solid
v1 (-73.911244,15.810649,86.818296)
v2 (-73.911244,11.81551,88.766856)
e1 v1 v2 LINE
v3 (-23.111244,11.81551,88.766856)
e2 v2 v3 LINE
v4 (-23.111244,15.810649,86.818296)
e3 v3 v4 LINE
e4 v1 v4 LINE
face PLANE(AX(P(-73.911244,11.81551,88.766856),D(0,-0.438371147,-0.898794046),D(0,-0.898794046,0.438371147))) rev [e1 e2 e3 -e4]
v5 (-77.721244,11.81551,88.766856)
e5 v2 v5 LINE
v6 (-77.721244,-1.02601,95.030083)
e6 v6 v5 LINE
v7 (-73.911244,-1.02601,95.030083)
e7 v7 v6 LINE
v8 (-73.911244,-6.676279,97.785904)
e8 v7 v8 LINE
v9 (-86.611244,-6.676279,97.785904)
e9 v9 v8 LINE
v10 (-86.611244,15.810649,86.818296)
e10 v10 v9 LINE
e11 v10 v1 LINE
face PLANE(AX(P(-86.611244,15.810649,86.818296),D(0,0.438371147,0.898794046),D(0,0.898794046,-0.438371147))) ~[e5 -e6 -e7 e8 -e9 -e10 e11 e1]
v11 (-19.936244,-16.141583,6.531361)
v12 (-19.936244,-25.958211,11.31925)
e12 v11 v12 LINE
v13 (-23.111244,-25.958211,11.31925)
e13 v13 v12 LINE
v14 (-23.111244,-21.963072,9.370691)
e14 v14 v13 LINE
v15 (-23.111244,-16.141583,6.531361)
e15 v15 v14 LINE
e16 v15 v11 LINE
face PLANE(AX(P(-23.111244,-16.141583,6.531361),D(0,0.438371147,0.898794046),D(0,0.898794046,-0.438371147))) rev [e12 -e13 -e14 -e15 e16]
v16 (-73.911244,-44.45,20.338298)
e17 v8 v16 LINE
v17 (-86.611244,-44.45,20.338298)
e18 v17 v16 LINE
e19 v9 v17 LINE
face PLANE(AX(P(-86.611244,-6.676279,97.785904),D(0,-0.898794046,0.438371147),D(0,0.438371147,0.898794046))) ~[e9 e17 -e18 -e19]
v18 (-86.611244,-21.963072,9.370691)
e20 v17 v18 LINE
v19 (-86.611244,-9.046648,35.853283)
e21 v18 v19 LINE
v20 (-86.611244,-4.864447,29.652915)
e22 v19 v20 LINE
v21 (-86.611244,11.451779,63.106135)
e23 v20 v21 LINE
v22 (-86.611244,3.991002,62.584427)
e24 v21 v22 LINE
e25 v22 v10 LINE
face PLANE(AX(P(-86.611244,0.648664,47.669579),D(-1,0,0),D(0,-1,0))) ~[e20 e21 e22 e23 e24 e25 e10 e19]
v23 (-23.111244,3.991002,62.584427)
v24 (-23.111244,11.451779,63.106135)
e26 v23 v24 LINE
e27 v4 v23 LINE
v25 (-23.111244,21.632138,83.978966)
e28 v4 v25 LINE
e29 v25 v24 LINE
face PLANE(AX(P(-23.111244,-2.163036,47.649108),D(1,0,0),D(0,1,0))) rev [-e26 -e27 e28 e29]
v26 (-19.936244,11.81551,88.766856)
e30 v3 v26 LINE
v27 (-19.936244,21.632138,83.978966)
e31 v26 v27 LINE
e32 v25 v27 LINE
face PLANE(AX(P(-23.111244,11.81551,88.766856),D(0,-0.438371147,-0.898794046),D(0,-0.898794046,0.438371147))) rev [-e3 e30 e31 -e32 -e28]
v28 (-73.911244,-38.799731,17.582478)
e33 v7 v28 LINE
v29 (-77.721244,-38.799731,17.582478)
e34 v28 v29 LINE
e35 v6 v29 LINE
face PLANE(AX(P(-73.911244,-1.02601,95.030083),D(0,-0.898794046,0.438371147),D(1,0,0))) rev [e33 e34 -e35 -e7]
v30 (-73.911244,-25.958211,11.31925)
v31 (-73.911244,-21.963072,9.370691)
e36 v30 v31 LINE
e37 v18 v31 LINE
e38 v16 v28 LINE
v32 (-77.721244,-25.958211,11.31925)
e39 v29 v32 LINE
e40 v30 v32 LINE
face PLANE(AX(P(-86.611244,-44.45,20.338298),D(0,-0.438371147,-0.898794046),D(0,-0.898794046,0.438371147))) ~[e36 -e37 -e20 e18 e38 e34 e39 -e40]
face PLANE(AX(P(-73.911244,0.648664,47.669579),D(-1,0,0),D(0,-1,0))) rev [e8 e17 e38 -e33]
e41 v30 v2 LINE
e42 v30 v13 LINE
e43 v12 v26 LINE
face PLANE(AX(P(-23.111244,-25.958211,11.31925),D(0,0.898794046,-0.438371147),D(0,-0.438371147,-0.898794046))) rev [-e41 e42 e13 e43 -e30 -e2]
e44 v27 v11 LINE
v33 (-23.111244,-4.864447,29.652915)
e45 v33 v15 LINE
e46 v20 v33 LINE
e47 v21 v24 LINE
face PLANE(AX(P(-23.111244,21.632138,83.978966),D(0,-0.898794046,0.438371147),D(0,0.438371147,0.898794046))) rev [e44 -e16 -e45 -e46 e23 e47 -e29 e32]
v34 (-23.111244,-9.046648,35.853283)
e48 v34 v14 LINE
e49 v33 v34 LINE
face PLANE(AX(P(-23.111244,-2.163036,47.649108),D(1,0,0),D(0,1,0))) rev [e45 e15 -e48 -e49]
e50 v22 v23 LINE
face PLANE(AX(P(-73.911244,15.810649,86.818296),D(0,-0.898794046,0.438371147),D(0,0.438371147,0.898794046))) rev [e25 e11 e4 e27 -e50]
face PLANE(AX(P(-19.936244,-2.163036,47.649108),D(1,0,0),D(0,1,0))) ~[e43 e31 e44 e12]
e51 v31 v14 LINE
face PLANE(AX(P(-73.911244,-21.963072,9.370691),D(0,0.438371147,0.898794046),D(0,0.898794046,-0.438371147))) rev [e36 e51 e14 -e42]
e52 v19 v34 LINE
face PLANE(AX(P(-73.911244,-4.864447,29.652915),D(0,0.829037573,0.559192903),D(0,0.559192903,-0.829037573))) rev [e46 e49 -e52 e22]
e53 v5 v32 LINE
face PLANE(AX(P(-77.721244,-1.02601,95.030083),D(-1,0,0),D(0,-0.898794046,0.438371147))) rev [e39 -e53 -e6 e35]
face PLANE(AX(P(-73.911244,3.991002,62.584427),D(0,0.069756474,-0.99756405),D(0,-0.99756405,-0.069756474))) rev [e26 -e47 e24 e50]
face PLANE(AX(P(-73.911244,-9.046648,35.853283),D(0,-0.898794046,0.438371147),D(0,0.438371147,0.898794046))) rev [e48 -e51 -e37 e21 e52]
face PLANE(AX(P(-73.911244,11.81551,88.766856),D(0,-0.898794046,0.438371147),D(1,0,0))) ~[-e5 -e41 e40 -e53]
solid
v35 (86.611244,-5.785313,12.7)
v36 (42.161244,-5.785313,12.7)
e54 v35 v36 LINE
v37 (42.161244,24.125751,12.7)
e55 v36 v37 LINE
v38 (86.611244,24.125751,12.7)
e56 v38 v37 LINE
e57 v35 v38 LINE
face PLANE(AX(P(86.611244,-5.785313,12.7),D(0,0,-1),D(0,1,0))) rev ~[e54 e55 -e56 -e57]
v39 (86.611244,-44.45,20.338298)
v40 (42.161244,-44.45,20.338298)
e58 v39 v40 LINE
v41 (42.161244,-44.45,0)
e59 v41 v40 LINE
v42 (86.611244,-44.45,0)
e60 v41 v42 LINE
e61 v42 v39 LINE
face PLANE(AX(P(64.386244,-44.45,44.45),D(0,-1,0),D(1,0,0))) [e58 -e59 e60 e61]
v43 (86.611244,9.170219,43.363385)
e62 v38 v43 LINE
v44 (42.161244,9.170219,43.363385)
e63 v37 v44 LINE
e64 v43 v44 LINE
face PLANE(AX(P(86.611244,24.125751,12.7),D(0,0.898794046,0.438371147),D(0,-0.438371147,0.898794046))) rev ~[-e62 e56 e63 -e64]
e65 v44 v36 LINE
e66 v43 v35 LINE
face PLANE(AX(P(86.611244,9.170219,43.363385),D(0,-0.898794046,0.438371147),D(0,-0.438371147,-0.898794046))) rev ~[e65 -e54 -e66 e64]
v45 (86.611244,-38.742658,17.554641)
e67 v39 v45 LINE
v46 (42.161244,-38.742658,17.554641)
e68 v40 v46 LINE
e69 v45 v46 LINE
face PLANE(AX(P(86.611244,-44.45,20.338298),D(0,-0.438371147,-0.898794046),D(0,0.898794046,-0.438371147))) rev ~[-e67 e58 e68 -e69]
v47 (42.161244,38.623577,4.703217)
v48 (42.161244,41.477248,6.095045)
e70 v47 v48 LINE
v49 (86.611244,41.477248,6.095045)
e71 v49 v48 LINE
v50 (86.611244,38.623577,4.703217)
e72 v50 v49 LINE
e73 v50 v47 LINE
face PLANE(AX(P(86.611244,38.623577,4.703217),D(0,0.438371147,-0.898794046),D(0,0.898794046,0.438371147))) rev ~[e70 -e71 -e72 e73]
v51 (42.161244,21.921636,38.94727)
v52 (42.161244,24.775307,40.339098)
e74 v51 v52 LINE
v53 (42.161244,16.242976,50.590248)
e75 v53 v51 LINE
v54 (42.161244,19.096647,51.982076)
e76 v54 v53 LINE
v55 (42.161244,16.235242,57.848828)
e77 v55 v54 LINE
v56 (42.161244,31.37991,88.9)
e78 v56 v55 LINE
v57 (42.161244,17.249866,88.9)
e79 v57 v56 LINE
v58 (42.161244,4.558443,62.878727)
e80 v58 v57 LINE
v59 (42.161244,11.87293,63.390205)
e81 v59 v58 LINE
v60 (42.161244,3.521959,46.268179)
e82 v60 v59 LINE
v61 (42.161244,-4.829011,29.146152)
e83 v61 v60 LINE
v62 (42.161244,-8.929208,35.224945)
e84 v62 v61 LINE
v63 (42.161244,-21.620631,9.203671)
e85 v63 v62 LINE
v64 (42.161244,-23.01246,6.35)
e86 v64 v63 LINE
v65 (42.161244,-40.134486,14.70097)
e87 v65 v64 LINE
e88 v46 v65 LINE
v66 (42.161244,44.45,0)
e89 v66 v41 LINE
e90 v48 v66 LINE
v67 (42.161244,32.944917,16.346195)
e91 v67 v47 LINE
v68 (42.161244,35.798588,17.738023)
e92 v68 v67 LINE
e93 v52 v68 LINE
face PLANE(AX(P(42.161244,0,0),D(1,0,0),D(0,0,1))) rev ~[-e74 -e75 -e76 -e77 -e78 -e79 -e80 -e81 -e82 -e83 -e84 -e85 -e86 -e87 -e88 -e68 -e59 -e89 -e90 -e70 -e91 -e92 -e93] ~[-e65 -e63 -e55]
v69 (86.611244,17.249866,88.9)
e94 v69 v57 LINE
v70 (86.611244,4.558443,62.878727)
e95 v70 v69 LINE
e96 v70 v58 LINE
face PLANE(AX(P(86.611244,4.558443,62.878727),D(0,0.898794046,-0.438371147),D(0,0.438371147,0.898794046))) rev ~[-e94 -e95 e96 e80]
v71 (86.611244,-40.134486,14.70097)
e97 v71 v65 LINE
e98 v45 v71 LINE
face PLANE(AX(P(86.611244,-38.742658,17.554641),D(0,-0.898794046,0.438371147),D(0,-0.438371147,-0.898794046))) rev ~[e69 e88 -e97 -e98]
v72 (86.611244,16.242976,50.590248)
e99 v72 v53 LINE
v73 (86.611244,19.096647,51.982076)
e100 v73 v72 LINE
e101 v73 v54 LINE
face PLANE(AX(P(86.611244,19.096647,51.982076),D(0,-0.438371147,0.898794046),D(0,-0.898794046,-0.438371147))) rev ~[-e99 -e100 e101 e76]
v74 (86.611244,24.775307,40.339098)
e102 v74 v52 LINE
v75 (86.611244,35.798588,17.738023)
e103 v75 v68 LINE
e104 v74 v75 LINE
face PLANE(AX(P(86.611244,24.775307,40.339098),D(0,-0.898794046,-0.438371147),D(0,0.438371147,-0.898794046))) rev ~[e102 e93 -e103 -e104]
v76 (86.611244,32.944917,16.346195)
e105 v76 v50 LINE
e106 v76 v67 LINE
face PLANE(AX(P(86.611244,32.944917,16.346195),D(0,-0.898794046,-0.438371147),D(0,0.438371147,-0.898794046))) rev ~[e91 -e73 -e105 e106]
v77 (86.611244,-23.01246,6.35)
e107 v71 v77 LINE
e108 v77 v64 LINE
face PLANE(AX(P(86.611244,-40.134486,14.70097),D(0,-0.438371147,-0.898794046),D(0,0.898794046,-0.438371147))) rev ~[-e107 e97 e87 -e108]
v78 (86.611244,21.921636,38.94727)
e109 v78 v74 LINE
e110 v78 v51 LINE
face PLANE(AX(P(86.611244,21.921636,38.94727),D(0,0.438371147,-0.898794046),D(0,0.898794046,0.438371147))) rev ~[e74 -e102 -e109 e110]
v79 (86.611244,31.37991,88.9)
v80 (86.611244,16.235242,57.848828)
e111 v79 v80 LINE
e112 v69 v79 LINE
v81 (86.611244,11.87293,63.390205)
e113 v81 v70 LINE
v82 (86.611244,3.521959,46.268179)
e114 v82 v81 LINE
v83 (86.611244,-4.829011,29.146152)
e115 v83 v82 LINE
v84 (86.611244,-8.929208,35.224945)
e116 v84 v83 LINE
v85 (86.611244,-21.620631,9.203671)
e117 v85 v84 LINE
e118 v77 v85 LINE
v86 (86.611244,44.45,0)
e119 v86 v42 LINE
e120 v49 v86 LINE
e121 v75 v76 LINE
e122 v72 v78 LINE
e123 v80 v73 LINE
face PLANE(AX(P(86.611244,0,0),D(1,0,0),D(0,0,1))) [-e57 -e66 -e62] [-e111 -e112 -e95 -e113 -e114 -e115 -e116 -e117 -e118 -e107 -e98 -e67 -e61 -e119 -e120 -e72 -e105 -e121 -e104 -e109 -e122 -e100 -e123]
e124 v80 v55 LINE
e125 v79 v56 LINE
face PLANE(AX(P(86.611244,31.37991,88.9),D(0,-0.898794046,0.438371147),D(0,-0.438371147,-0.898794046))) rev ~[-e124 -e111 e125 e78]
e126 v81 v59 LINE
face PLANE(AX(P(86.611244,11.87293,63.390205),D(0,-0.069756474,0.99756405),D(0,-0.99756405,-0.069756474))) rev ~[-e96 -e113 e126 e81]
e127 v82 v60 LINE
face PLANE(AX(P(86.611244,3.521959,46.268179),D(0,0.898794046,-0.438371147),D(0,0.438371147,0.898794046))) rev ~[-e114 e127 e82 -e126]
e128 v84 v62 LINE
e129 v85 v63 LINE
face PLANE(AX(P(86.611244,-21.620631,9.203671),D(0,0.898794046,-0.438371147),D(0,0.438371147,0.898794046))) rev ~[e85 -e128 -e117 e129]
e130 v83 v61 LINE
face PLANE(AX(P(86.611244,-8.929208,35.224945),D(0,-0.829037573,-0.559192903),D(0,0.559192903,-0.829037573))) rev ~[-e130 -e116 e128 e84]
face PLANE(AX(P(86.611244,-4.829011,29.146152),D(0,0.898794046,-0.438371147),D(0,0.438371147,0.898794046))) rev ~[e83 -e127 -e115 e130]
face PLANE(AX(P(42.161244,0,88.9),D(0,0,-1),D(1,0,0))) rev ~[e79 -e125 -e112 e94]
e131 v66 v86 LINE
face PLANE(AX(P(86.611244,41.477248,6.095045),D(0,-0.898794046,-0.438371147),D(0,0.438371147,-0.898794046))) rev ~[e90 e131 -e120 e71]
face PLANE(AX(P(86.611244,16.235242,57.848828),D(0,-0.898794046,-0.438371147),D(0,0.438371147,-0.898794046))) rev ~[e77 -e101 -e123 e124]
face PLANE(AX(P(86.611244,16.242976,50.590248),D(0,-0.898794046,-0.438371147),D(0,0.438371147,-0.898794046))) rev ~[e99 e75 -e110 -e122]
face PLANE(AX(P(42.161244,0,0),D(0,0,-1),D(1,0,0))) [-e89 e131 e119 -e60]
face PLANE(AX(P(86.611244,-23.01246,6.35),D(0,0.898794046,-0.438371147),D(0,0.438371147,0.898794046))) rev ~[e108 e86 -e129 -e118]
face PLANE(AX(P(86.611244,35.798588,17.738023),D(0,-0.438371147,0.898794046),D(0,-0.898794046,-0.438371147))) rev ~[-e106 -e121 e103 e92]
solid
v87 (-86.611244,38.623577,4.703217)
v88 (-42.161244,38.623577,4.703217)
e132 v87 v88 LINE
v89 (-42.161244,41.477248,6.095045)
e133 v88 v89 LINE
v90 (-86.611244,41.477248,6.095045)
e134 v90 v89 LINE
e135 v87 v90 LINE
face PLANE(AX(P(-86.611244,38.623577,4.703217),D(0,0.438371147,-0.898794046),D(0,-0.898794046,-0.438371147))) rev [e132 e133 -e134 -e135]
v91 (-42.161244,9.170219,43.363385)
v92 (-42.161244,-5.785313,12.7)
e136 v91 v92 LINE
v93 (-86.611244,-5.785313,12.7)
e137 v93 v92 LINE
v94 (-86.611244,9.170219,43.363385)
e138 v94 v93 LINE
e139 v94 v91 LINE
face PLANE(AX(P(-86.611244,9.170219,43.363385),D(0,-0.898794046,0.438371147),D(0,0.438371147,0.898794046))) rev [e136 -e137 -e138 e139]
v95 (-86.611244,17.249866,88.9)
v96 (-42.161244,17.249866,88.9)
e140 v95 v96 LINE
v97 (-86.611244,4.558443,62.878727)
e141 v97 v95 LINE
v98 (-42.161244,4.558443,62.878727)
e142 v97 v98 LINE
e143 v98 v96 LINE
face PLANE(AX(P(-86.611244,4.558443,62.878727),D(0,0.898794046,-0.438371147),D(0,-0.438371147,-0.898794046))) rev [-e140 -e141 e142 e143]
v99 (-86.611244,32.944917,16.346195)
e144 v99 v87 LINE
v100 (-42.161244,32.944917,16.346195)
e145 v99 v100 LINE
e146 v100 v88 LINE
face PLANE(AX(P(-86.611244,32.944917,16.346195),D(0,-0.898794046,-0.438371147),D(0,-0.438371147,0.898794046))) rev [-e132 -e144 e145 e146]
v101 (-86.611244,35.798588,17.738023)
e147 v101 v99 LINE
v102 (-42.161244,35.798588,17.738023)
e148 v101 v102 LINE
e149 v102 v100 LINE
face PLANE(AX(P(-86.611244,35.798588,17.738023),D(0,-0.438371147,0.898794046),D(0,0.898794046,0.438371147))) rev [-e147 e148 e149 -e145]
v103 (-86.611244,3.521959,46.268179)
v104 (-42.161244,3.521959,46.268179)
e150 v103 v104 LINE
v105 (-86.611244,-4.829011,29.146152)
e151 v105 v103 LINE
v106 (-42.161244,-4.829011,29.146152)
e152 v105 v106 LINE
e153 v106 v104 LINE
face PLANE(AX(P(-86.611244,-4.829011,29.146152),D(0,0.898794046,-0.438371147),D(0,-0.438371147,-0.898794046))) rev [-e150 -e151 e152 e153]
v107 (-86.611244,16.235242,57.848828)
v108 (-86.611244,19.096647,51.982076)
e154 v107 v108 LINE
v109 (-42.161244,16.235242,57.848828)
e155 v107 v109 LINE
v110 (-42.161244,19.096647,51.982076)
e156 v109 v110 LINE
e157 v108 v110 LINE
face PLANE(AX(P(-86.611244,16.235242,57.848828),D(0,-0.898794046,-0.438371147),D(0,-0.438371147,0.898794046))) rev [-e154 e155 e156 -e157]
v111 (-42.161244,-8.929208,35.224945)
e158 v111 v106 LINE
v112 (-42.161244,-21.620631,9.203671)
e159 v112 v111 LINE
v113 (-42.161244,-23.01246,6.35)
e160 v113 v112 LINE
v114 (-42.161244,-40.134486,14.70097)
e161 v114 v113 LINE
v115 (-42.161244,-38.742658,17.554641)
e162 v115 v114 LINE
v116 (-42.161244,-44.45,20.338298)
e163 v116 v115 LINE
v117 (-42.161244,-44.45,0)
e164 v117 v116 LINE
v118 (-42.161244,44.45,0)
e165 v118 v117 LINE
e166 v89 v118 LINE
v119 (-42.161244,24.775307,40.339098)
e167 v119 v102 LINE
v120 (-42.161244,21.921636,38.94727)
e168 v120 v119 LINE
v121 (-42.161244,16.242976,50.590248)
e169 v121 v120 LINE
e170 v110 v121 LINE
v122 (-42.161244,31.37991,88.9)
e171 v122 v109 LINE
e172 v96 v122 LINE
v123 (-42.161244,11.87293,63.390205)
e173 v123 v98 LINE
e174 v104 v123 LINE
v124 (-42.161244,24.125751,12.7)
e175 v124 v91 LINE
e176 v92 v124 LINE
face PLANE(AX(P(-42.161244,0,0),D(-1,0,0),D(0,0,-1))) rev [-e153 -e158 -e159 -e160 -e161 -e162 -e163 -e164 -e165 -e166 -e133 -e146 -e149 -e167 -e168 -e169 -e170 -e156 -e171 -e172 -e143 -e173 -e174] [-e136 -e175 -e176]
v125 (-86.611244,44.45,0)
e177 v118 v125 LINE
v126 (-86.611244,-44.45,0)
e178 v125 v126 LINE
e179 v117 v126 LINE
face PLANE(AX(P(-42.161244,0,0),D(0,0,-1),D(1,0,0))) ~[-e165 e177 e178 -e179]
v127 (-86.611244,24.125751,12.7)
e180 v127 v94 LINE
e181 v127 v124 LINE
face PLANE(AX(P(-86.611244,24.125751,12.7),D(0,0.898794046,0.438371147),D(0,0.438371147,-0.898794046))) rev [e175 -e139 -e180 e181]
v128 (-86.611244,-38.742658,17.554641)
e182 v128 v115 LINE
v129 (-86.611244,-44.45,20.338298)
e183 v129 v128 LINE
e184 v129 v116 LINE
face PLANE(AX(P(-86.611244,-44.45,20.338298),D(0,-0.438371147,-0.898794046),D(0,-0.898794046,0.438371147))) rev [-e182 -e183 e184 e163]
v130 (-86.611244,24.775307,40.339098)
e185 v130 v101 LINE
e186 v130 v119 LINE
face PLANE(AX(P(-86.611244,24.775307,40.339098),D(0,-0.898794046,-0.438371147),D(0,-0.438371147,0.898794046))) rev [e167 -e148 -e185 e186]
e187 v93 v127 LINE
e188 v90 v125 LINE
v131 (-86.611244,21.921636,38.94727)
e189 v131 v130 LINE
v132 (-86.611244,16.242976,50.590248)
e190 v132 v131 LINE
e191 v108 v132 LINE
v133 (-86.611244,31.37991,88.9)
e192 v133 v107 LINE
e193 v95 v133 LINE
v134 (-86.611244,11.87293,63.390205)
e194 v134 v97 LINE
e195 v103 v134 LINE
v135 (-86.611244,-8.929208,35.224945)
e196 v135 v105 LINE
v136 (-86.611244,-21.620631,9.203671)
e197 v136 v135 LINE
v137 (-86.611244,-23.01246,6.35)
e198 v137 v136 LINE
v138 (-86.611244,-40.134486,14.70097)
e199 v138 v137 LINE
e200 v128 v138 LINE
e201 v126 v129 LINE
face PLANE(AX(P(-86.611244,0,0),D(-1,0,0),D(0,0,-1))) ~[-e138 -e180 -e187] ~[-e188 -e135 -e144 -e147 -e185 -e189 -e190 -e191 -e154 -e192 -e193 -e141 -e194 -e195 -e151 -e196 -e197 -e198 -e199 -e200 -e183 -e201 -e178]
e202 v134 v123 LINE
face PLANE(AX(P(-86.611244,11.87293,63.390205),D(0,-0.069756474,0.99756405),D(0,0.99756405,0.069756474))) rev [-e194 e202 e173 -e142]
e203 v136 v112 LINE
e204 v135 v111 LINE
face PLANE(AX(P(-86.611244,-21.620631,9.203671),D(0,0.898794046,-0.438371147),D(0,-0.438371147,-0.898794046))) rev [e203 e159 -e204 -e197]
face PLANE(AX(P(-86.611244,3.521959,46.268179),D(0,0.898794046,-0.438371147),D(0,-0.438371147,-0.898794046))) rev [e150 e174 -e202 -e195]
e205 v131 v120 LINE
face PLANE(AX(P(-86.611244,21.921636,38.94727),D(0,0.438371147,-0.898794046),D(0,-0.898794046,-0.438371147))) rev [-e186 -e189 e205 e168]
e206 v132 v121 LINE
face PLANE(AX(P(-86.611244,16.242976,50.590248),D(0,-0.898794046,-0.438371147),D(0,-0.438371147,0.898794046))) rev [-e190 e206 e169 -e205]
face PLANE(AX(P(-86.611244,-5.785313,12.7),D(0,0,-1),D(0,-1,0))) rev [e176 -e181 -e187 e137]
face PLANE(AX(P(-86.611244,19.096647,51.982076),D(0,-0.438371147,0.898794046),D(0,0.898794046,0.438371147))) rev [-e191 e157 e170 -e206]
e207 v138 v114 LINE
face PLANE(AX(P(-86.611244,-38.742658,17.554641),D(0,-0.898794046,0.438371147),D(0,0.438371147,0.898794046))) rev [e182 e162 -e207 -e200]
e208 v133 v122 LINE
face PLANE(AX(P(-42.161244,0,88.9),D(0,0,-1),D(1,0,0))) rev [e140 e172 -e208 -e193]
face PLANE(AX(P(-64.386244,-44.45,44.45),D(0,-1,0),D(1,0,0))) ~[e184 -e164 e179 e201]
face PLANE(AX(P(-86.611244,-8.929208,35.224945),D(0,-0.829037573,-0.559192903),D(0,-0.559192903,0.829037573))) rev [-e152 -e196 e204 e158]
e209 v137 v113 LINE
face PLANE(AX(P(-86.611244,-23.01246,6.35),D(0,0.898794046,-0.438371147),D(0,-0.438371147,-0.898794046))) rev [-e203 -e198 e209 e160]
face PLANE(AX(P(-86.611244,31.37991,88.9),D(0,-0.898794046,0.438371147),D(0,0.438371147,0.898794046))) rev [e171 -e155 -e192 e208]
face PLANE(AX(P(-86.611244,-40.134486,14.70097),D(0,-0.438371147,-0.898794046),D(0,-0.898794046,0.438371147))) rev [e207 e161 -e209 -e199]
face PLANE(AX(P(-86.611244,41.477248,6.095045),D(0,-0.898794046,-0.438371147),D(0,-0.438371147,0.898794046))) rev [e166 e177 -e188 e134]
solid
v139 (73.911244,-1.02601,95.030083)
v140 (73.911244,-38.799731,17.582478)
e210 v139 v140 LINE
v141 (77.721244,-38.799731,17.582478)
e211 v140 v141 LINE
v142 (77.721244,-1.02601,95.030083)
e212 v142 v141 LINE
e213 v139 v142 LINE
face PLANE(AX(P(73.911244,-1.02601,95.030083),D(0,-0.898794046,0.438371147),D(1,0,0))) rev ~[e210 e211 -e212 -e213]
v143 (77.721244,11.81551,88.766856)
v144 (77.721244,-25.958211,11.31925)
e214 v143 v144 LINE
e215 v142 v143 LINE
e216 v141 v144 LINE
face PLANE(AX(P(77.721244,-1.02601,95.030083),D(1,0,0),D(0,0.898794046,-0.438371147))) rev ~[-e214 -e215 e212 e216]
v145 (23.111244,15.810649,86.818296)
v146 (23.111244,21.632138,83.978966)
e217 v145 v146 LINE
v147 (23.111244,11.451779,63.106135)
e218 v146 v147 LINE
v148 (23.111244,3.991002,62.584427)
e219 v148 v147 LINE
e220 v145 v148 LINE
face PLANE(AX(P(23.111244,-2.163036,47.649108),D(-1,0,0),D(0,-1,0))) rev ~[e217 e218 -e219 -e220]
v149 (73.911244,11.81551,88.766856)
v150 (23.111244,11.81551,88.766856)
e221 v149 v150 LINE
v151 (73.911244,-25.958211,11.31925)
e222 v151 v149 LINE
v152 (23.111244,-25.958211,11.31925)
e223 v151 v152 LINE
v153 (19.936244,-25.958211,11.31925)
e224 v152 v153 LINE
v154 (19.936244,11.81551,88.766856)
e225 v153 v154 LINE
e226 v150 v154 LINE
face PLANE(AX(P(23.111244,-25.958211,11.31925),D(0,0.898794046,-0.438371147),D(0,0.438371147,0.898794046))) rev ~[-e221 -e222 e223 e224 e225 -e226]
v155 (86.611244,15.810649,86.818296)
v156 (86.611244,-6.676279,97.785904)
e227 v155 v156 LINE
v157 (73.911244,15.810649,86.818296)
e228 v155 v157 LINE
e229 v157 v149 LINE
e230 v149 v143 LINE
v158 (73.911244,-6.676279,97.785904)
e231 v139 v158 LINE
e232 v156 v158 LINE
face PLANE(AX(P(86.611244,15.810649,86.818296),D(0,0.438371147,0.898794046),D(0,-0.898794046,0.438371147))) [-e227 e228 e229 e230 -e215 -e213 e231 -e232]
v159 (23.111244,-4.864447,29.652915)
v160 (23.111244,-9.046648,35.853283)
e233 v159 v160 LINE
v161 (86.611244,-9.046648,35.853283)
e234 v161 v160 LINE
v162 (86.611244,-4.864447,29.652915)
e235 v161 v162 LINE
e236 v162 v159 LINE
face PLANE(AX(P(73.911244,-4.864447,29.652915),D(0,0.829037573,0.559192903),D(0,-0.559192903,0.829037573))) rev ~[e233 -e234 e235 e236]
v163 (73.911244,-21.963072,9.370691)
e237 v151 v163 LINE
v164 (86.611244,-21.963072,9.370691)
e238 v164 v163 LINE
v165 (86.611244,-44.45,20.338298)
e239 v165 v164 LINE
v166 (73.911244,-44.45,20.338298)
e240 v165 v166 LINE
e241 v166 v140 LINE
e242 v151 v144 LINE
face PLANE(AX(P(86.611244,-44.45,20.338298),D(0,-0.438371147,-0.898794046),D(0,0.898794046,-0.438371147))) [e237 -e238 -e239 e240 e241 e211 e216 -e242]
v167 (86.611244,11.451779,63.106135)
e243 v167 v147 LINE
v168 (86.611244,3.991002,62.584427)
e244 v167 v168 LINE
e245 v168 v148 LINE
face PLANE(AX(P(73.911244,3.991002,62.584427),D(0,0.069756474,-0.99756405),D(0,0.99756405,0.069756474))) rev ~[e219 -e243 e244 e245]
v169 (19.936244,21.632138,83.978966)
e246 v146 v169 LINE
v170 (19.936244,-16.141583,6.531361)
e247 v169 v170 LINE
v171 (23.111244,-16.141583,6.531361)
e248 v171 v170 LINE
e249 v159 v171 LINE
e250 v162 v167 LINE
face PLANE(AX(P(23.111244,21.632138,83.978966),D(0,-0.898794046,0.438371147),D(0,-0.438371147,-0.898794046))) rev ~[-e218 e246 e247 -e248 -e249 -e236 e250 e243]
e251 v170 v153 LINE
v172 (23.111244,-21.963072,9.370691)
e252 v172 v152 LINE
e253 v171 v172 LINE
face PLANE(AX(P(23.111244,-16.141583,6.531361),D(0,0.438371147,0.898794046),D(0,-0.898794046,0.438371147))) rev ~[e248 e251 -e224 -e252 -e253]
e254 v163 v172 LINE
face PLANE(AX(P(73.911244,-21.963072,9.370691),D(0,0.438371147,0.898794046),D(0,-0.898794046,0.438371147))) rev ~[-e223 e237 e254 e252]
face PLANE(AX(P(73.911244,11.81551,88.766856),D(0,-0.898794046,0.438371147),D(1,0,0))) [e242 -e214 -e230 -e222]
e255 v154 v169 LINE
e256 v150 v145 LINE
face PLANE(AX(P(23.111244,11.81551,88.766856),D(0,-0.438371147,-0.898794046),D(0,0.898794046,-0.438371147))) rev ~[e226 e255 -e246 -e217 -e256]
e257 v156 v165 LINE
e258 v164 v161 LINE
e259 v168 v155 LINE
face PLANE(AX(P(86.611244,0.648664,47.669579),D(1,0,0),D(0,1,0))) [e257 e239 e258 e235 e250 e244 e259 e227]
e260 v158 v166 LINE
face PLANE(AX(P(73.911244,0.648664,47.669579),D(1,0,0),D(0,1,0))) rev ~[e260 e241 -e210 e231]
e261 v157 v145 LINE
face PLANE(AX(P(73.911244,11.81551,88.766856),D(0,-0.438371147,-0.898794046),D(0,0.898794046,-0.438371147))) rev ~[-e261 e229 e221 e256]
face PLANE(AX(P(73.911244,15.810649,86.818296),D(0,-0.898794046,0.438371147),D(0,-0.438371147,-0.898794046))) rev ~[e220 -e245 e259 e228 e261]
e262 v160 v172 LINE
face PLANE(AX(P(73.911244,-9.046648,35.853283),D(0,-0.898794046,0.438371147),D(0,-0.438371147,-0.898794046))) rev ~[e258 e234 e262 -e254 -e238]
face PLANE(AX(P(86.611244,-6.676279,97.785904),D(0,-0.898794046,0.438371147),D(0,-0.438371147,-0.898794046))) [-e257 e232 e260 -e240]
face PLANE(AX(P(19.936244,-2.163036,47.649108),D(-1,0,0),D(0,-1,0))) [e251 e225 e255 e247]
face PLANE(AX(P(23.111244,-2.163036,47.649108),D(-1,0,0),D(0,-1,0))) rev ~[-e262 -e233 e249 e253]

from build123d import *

# Parameters (mm, degrees)
F0_W      = 44.45
F0_H      = 88.9
F1_DEPTH  = 44.45
F3_DEPTH  = 44.45
F5_DEPTH  = 12.7
F7_DEPTH  = 50.8
F9_DEPTH  = 3.175
F10_W     = 3.81
F10_H     = 14.2875
F11_DEPTH = 86.1683560435


with BuildPart() as f1:
    # F0 (on Front) → F1 (new body, symmetric)
    with BuildSketch(Plane.XZ):
        with Locations((64.3862443834, 44.45)):
            Rectangle(F0_W, F0_H)
    extrude(amount=F1_DEPTH, both=True)

    # F2 (on face) → F3 (cut, through all)
    with BuildSketch(Plane.YZ.offset(86.6112443834)):
        Polygon((-44.45, 69.6656666873), (-44.45, 20.3382982254), (-38.742657806, 17.5546414433), (-21.620631224, 9.203671097), (-8.9292081803, 35.2249445186), (-2.1853828265, 49.0518355485), align=None)
        Polygon((-21.620631224, 9.203671097), (-38.742657806, 17.5546414433), (-40.1344861971, 14.7009703463), (-23.0124596151, 6.35), align=None)
        Polygon((-44.45, 88.9), (-44.45, 69.6656666873), (-2.1853828265, 49.0518355485), (4.5584425274, 62.8787265784), (17.2498655711, 88.9), align=None)
        Polygon((3.5219593675, 46.2681787664), (-2.1853828265, 49.0518355485), (-8.9292081803, 35.2249445186), (-4.8290109788, 29.1461521844), align=None)
        Polygon((4.5584425274, 62.8787265784), (-2.1853828265, 49.0518355485), (3.5219593675, 46.2681787664), (11.8729297139, 63.3902053484), align=None)
        Polygon((9.1702192238, 43.3633852402), (-5.7853130336, 12.7), (24.1257514812, 12.7), align=None)
        Polygon((31.3799102151, 88.9), (16.2352415458, 57.8488276479), (19.0966473732, 51.9820762877), (24.7753072087, 40.3390982119), (30.3426207729, 28.9244138239), (44.45, 35.8050424123), (44.45, 88.9), align=None)
        Polygon((24.7753072087, 40.3390982119), (19.0966473732, 51.9820762877), (16.2429762762, 50.5902478967), (21.9216361117, 38.9472698209), align=None)
        Polygon((44.45, 0), (44.45, 35.8050424123), (30.3426207729, 28.9244138239), (35.7985880658, 17.7380231237), (41.4772479013, 6.0950450479), align=None)
        Polygon((41.4772479013, 6.0950450479), (35.7985880658, 17.7380231237), (32.9449169688, 16.3461947327), (38.6235768043, 4.7032166569), align=None)
    extrude(amount=-F3_DEPTH, mode=Mode.SUBTRACT)


with BuildPart() as f5:
    # F4 (on face) → F5 (new body)
    with BuildSketch(Plane.YZ.offset(86.6112443834)):
        Polygon((-4.8644472675, 29.6529147219), (11.451778627, 63.1061353534), (3.9910016968, 62.5844270081), (-9.046648413, 35.8532829028), align=None)
        Polygon((-9.046648413, 35.8532829028), (3.9910016968, 62.5844270081), (15.8106493001, 86.8182958952), (-6.6762789443, 97.7859036168), (-44.45, 20.3382982254), (-21.9630717556, 9.3706905039), align=None)
    extrude(amount=-F5_DEPTH)

    # F6 (on face) → F7 (join)
    with BuildSketch(Plane(origin=(73.9112443834, 0, 0), x_dir=(0, -1, 0), z_dir=(-1, 0, 0))):
        Polygon((-11.8155097643, 88.7668556427), (-15.8106493001, 86.8182958952), (-3.9910016968, 62.5844270081), (-11.451778627, 63.1061353534), (4.8644472675, 29.6529147219), (9.046648413, 35.8532829028), (21.9630717556, 9.3706905039), (25.9582112914, 11.3192502514), align=None)
    extrude(amount=F7_DEPTH)

    # F8 (on face) → F9 (join)
    with BuildSketch(Plane(origin=(23.1112443834, 0, 0), x_dir=(0, -1, 0), z_dir=(-1, 0, 0))):
        Polygon((25.9582112914, 11.3192502514), (-11.8155097643, 88.7668556427), (-21.632138338, 83.9789659775), (16.1415827178, 6.5313605862), align=None)
    extrude(amount=F9_DEPTH)

    # F10 (on face) → F11 (cut, through all)
    with BuildSketch(Plane(origin=(0, 37.2451962007, 76.3639688507), x_dir=(1, 0, 0), z_dir=(0, 0.4383711468, 0.8987940463))):
        with Locations((75.8162443834, -35.4368684748)):
            Rectangle(F10_W, F10_H)
    extrude(amount=-F11_DEPTH, mode=Mode.SUBTRACT)


with BuildPart() as f12_1:
    # F12: instance of F1
    add(f1.part.mirror(Plane.YZ))


with BuildPart() as f12_2:
    # F12: instance of F5
    add(f5.part.mirror(Plane.YZ))


solid = Compound([f1.part, f5.part, f12_1.part, f12_2.part])
